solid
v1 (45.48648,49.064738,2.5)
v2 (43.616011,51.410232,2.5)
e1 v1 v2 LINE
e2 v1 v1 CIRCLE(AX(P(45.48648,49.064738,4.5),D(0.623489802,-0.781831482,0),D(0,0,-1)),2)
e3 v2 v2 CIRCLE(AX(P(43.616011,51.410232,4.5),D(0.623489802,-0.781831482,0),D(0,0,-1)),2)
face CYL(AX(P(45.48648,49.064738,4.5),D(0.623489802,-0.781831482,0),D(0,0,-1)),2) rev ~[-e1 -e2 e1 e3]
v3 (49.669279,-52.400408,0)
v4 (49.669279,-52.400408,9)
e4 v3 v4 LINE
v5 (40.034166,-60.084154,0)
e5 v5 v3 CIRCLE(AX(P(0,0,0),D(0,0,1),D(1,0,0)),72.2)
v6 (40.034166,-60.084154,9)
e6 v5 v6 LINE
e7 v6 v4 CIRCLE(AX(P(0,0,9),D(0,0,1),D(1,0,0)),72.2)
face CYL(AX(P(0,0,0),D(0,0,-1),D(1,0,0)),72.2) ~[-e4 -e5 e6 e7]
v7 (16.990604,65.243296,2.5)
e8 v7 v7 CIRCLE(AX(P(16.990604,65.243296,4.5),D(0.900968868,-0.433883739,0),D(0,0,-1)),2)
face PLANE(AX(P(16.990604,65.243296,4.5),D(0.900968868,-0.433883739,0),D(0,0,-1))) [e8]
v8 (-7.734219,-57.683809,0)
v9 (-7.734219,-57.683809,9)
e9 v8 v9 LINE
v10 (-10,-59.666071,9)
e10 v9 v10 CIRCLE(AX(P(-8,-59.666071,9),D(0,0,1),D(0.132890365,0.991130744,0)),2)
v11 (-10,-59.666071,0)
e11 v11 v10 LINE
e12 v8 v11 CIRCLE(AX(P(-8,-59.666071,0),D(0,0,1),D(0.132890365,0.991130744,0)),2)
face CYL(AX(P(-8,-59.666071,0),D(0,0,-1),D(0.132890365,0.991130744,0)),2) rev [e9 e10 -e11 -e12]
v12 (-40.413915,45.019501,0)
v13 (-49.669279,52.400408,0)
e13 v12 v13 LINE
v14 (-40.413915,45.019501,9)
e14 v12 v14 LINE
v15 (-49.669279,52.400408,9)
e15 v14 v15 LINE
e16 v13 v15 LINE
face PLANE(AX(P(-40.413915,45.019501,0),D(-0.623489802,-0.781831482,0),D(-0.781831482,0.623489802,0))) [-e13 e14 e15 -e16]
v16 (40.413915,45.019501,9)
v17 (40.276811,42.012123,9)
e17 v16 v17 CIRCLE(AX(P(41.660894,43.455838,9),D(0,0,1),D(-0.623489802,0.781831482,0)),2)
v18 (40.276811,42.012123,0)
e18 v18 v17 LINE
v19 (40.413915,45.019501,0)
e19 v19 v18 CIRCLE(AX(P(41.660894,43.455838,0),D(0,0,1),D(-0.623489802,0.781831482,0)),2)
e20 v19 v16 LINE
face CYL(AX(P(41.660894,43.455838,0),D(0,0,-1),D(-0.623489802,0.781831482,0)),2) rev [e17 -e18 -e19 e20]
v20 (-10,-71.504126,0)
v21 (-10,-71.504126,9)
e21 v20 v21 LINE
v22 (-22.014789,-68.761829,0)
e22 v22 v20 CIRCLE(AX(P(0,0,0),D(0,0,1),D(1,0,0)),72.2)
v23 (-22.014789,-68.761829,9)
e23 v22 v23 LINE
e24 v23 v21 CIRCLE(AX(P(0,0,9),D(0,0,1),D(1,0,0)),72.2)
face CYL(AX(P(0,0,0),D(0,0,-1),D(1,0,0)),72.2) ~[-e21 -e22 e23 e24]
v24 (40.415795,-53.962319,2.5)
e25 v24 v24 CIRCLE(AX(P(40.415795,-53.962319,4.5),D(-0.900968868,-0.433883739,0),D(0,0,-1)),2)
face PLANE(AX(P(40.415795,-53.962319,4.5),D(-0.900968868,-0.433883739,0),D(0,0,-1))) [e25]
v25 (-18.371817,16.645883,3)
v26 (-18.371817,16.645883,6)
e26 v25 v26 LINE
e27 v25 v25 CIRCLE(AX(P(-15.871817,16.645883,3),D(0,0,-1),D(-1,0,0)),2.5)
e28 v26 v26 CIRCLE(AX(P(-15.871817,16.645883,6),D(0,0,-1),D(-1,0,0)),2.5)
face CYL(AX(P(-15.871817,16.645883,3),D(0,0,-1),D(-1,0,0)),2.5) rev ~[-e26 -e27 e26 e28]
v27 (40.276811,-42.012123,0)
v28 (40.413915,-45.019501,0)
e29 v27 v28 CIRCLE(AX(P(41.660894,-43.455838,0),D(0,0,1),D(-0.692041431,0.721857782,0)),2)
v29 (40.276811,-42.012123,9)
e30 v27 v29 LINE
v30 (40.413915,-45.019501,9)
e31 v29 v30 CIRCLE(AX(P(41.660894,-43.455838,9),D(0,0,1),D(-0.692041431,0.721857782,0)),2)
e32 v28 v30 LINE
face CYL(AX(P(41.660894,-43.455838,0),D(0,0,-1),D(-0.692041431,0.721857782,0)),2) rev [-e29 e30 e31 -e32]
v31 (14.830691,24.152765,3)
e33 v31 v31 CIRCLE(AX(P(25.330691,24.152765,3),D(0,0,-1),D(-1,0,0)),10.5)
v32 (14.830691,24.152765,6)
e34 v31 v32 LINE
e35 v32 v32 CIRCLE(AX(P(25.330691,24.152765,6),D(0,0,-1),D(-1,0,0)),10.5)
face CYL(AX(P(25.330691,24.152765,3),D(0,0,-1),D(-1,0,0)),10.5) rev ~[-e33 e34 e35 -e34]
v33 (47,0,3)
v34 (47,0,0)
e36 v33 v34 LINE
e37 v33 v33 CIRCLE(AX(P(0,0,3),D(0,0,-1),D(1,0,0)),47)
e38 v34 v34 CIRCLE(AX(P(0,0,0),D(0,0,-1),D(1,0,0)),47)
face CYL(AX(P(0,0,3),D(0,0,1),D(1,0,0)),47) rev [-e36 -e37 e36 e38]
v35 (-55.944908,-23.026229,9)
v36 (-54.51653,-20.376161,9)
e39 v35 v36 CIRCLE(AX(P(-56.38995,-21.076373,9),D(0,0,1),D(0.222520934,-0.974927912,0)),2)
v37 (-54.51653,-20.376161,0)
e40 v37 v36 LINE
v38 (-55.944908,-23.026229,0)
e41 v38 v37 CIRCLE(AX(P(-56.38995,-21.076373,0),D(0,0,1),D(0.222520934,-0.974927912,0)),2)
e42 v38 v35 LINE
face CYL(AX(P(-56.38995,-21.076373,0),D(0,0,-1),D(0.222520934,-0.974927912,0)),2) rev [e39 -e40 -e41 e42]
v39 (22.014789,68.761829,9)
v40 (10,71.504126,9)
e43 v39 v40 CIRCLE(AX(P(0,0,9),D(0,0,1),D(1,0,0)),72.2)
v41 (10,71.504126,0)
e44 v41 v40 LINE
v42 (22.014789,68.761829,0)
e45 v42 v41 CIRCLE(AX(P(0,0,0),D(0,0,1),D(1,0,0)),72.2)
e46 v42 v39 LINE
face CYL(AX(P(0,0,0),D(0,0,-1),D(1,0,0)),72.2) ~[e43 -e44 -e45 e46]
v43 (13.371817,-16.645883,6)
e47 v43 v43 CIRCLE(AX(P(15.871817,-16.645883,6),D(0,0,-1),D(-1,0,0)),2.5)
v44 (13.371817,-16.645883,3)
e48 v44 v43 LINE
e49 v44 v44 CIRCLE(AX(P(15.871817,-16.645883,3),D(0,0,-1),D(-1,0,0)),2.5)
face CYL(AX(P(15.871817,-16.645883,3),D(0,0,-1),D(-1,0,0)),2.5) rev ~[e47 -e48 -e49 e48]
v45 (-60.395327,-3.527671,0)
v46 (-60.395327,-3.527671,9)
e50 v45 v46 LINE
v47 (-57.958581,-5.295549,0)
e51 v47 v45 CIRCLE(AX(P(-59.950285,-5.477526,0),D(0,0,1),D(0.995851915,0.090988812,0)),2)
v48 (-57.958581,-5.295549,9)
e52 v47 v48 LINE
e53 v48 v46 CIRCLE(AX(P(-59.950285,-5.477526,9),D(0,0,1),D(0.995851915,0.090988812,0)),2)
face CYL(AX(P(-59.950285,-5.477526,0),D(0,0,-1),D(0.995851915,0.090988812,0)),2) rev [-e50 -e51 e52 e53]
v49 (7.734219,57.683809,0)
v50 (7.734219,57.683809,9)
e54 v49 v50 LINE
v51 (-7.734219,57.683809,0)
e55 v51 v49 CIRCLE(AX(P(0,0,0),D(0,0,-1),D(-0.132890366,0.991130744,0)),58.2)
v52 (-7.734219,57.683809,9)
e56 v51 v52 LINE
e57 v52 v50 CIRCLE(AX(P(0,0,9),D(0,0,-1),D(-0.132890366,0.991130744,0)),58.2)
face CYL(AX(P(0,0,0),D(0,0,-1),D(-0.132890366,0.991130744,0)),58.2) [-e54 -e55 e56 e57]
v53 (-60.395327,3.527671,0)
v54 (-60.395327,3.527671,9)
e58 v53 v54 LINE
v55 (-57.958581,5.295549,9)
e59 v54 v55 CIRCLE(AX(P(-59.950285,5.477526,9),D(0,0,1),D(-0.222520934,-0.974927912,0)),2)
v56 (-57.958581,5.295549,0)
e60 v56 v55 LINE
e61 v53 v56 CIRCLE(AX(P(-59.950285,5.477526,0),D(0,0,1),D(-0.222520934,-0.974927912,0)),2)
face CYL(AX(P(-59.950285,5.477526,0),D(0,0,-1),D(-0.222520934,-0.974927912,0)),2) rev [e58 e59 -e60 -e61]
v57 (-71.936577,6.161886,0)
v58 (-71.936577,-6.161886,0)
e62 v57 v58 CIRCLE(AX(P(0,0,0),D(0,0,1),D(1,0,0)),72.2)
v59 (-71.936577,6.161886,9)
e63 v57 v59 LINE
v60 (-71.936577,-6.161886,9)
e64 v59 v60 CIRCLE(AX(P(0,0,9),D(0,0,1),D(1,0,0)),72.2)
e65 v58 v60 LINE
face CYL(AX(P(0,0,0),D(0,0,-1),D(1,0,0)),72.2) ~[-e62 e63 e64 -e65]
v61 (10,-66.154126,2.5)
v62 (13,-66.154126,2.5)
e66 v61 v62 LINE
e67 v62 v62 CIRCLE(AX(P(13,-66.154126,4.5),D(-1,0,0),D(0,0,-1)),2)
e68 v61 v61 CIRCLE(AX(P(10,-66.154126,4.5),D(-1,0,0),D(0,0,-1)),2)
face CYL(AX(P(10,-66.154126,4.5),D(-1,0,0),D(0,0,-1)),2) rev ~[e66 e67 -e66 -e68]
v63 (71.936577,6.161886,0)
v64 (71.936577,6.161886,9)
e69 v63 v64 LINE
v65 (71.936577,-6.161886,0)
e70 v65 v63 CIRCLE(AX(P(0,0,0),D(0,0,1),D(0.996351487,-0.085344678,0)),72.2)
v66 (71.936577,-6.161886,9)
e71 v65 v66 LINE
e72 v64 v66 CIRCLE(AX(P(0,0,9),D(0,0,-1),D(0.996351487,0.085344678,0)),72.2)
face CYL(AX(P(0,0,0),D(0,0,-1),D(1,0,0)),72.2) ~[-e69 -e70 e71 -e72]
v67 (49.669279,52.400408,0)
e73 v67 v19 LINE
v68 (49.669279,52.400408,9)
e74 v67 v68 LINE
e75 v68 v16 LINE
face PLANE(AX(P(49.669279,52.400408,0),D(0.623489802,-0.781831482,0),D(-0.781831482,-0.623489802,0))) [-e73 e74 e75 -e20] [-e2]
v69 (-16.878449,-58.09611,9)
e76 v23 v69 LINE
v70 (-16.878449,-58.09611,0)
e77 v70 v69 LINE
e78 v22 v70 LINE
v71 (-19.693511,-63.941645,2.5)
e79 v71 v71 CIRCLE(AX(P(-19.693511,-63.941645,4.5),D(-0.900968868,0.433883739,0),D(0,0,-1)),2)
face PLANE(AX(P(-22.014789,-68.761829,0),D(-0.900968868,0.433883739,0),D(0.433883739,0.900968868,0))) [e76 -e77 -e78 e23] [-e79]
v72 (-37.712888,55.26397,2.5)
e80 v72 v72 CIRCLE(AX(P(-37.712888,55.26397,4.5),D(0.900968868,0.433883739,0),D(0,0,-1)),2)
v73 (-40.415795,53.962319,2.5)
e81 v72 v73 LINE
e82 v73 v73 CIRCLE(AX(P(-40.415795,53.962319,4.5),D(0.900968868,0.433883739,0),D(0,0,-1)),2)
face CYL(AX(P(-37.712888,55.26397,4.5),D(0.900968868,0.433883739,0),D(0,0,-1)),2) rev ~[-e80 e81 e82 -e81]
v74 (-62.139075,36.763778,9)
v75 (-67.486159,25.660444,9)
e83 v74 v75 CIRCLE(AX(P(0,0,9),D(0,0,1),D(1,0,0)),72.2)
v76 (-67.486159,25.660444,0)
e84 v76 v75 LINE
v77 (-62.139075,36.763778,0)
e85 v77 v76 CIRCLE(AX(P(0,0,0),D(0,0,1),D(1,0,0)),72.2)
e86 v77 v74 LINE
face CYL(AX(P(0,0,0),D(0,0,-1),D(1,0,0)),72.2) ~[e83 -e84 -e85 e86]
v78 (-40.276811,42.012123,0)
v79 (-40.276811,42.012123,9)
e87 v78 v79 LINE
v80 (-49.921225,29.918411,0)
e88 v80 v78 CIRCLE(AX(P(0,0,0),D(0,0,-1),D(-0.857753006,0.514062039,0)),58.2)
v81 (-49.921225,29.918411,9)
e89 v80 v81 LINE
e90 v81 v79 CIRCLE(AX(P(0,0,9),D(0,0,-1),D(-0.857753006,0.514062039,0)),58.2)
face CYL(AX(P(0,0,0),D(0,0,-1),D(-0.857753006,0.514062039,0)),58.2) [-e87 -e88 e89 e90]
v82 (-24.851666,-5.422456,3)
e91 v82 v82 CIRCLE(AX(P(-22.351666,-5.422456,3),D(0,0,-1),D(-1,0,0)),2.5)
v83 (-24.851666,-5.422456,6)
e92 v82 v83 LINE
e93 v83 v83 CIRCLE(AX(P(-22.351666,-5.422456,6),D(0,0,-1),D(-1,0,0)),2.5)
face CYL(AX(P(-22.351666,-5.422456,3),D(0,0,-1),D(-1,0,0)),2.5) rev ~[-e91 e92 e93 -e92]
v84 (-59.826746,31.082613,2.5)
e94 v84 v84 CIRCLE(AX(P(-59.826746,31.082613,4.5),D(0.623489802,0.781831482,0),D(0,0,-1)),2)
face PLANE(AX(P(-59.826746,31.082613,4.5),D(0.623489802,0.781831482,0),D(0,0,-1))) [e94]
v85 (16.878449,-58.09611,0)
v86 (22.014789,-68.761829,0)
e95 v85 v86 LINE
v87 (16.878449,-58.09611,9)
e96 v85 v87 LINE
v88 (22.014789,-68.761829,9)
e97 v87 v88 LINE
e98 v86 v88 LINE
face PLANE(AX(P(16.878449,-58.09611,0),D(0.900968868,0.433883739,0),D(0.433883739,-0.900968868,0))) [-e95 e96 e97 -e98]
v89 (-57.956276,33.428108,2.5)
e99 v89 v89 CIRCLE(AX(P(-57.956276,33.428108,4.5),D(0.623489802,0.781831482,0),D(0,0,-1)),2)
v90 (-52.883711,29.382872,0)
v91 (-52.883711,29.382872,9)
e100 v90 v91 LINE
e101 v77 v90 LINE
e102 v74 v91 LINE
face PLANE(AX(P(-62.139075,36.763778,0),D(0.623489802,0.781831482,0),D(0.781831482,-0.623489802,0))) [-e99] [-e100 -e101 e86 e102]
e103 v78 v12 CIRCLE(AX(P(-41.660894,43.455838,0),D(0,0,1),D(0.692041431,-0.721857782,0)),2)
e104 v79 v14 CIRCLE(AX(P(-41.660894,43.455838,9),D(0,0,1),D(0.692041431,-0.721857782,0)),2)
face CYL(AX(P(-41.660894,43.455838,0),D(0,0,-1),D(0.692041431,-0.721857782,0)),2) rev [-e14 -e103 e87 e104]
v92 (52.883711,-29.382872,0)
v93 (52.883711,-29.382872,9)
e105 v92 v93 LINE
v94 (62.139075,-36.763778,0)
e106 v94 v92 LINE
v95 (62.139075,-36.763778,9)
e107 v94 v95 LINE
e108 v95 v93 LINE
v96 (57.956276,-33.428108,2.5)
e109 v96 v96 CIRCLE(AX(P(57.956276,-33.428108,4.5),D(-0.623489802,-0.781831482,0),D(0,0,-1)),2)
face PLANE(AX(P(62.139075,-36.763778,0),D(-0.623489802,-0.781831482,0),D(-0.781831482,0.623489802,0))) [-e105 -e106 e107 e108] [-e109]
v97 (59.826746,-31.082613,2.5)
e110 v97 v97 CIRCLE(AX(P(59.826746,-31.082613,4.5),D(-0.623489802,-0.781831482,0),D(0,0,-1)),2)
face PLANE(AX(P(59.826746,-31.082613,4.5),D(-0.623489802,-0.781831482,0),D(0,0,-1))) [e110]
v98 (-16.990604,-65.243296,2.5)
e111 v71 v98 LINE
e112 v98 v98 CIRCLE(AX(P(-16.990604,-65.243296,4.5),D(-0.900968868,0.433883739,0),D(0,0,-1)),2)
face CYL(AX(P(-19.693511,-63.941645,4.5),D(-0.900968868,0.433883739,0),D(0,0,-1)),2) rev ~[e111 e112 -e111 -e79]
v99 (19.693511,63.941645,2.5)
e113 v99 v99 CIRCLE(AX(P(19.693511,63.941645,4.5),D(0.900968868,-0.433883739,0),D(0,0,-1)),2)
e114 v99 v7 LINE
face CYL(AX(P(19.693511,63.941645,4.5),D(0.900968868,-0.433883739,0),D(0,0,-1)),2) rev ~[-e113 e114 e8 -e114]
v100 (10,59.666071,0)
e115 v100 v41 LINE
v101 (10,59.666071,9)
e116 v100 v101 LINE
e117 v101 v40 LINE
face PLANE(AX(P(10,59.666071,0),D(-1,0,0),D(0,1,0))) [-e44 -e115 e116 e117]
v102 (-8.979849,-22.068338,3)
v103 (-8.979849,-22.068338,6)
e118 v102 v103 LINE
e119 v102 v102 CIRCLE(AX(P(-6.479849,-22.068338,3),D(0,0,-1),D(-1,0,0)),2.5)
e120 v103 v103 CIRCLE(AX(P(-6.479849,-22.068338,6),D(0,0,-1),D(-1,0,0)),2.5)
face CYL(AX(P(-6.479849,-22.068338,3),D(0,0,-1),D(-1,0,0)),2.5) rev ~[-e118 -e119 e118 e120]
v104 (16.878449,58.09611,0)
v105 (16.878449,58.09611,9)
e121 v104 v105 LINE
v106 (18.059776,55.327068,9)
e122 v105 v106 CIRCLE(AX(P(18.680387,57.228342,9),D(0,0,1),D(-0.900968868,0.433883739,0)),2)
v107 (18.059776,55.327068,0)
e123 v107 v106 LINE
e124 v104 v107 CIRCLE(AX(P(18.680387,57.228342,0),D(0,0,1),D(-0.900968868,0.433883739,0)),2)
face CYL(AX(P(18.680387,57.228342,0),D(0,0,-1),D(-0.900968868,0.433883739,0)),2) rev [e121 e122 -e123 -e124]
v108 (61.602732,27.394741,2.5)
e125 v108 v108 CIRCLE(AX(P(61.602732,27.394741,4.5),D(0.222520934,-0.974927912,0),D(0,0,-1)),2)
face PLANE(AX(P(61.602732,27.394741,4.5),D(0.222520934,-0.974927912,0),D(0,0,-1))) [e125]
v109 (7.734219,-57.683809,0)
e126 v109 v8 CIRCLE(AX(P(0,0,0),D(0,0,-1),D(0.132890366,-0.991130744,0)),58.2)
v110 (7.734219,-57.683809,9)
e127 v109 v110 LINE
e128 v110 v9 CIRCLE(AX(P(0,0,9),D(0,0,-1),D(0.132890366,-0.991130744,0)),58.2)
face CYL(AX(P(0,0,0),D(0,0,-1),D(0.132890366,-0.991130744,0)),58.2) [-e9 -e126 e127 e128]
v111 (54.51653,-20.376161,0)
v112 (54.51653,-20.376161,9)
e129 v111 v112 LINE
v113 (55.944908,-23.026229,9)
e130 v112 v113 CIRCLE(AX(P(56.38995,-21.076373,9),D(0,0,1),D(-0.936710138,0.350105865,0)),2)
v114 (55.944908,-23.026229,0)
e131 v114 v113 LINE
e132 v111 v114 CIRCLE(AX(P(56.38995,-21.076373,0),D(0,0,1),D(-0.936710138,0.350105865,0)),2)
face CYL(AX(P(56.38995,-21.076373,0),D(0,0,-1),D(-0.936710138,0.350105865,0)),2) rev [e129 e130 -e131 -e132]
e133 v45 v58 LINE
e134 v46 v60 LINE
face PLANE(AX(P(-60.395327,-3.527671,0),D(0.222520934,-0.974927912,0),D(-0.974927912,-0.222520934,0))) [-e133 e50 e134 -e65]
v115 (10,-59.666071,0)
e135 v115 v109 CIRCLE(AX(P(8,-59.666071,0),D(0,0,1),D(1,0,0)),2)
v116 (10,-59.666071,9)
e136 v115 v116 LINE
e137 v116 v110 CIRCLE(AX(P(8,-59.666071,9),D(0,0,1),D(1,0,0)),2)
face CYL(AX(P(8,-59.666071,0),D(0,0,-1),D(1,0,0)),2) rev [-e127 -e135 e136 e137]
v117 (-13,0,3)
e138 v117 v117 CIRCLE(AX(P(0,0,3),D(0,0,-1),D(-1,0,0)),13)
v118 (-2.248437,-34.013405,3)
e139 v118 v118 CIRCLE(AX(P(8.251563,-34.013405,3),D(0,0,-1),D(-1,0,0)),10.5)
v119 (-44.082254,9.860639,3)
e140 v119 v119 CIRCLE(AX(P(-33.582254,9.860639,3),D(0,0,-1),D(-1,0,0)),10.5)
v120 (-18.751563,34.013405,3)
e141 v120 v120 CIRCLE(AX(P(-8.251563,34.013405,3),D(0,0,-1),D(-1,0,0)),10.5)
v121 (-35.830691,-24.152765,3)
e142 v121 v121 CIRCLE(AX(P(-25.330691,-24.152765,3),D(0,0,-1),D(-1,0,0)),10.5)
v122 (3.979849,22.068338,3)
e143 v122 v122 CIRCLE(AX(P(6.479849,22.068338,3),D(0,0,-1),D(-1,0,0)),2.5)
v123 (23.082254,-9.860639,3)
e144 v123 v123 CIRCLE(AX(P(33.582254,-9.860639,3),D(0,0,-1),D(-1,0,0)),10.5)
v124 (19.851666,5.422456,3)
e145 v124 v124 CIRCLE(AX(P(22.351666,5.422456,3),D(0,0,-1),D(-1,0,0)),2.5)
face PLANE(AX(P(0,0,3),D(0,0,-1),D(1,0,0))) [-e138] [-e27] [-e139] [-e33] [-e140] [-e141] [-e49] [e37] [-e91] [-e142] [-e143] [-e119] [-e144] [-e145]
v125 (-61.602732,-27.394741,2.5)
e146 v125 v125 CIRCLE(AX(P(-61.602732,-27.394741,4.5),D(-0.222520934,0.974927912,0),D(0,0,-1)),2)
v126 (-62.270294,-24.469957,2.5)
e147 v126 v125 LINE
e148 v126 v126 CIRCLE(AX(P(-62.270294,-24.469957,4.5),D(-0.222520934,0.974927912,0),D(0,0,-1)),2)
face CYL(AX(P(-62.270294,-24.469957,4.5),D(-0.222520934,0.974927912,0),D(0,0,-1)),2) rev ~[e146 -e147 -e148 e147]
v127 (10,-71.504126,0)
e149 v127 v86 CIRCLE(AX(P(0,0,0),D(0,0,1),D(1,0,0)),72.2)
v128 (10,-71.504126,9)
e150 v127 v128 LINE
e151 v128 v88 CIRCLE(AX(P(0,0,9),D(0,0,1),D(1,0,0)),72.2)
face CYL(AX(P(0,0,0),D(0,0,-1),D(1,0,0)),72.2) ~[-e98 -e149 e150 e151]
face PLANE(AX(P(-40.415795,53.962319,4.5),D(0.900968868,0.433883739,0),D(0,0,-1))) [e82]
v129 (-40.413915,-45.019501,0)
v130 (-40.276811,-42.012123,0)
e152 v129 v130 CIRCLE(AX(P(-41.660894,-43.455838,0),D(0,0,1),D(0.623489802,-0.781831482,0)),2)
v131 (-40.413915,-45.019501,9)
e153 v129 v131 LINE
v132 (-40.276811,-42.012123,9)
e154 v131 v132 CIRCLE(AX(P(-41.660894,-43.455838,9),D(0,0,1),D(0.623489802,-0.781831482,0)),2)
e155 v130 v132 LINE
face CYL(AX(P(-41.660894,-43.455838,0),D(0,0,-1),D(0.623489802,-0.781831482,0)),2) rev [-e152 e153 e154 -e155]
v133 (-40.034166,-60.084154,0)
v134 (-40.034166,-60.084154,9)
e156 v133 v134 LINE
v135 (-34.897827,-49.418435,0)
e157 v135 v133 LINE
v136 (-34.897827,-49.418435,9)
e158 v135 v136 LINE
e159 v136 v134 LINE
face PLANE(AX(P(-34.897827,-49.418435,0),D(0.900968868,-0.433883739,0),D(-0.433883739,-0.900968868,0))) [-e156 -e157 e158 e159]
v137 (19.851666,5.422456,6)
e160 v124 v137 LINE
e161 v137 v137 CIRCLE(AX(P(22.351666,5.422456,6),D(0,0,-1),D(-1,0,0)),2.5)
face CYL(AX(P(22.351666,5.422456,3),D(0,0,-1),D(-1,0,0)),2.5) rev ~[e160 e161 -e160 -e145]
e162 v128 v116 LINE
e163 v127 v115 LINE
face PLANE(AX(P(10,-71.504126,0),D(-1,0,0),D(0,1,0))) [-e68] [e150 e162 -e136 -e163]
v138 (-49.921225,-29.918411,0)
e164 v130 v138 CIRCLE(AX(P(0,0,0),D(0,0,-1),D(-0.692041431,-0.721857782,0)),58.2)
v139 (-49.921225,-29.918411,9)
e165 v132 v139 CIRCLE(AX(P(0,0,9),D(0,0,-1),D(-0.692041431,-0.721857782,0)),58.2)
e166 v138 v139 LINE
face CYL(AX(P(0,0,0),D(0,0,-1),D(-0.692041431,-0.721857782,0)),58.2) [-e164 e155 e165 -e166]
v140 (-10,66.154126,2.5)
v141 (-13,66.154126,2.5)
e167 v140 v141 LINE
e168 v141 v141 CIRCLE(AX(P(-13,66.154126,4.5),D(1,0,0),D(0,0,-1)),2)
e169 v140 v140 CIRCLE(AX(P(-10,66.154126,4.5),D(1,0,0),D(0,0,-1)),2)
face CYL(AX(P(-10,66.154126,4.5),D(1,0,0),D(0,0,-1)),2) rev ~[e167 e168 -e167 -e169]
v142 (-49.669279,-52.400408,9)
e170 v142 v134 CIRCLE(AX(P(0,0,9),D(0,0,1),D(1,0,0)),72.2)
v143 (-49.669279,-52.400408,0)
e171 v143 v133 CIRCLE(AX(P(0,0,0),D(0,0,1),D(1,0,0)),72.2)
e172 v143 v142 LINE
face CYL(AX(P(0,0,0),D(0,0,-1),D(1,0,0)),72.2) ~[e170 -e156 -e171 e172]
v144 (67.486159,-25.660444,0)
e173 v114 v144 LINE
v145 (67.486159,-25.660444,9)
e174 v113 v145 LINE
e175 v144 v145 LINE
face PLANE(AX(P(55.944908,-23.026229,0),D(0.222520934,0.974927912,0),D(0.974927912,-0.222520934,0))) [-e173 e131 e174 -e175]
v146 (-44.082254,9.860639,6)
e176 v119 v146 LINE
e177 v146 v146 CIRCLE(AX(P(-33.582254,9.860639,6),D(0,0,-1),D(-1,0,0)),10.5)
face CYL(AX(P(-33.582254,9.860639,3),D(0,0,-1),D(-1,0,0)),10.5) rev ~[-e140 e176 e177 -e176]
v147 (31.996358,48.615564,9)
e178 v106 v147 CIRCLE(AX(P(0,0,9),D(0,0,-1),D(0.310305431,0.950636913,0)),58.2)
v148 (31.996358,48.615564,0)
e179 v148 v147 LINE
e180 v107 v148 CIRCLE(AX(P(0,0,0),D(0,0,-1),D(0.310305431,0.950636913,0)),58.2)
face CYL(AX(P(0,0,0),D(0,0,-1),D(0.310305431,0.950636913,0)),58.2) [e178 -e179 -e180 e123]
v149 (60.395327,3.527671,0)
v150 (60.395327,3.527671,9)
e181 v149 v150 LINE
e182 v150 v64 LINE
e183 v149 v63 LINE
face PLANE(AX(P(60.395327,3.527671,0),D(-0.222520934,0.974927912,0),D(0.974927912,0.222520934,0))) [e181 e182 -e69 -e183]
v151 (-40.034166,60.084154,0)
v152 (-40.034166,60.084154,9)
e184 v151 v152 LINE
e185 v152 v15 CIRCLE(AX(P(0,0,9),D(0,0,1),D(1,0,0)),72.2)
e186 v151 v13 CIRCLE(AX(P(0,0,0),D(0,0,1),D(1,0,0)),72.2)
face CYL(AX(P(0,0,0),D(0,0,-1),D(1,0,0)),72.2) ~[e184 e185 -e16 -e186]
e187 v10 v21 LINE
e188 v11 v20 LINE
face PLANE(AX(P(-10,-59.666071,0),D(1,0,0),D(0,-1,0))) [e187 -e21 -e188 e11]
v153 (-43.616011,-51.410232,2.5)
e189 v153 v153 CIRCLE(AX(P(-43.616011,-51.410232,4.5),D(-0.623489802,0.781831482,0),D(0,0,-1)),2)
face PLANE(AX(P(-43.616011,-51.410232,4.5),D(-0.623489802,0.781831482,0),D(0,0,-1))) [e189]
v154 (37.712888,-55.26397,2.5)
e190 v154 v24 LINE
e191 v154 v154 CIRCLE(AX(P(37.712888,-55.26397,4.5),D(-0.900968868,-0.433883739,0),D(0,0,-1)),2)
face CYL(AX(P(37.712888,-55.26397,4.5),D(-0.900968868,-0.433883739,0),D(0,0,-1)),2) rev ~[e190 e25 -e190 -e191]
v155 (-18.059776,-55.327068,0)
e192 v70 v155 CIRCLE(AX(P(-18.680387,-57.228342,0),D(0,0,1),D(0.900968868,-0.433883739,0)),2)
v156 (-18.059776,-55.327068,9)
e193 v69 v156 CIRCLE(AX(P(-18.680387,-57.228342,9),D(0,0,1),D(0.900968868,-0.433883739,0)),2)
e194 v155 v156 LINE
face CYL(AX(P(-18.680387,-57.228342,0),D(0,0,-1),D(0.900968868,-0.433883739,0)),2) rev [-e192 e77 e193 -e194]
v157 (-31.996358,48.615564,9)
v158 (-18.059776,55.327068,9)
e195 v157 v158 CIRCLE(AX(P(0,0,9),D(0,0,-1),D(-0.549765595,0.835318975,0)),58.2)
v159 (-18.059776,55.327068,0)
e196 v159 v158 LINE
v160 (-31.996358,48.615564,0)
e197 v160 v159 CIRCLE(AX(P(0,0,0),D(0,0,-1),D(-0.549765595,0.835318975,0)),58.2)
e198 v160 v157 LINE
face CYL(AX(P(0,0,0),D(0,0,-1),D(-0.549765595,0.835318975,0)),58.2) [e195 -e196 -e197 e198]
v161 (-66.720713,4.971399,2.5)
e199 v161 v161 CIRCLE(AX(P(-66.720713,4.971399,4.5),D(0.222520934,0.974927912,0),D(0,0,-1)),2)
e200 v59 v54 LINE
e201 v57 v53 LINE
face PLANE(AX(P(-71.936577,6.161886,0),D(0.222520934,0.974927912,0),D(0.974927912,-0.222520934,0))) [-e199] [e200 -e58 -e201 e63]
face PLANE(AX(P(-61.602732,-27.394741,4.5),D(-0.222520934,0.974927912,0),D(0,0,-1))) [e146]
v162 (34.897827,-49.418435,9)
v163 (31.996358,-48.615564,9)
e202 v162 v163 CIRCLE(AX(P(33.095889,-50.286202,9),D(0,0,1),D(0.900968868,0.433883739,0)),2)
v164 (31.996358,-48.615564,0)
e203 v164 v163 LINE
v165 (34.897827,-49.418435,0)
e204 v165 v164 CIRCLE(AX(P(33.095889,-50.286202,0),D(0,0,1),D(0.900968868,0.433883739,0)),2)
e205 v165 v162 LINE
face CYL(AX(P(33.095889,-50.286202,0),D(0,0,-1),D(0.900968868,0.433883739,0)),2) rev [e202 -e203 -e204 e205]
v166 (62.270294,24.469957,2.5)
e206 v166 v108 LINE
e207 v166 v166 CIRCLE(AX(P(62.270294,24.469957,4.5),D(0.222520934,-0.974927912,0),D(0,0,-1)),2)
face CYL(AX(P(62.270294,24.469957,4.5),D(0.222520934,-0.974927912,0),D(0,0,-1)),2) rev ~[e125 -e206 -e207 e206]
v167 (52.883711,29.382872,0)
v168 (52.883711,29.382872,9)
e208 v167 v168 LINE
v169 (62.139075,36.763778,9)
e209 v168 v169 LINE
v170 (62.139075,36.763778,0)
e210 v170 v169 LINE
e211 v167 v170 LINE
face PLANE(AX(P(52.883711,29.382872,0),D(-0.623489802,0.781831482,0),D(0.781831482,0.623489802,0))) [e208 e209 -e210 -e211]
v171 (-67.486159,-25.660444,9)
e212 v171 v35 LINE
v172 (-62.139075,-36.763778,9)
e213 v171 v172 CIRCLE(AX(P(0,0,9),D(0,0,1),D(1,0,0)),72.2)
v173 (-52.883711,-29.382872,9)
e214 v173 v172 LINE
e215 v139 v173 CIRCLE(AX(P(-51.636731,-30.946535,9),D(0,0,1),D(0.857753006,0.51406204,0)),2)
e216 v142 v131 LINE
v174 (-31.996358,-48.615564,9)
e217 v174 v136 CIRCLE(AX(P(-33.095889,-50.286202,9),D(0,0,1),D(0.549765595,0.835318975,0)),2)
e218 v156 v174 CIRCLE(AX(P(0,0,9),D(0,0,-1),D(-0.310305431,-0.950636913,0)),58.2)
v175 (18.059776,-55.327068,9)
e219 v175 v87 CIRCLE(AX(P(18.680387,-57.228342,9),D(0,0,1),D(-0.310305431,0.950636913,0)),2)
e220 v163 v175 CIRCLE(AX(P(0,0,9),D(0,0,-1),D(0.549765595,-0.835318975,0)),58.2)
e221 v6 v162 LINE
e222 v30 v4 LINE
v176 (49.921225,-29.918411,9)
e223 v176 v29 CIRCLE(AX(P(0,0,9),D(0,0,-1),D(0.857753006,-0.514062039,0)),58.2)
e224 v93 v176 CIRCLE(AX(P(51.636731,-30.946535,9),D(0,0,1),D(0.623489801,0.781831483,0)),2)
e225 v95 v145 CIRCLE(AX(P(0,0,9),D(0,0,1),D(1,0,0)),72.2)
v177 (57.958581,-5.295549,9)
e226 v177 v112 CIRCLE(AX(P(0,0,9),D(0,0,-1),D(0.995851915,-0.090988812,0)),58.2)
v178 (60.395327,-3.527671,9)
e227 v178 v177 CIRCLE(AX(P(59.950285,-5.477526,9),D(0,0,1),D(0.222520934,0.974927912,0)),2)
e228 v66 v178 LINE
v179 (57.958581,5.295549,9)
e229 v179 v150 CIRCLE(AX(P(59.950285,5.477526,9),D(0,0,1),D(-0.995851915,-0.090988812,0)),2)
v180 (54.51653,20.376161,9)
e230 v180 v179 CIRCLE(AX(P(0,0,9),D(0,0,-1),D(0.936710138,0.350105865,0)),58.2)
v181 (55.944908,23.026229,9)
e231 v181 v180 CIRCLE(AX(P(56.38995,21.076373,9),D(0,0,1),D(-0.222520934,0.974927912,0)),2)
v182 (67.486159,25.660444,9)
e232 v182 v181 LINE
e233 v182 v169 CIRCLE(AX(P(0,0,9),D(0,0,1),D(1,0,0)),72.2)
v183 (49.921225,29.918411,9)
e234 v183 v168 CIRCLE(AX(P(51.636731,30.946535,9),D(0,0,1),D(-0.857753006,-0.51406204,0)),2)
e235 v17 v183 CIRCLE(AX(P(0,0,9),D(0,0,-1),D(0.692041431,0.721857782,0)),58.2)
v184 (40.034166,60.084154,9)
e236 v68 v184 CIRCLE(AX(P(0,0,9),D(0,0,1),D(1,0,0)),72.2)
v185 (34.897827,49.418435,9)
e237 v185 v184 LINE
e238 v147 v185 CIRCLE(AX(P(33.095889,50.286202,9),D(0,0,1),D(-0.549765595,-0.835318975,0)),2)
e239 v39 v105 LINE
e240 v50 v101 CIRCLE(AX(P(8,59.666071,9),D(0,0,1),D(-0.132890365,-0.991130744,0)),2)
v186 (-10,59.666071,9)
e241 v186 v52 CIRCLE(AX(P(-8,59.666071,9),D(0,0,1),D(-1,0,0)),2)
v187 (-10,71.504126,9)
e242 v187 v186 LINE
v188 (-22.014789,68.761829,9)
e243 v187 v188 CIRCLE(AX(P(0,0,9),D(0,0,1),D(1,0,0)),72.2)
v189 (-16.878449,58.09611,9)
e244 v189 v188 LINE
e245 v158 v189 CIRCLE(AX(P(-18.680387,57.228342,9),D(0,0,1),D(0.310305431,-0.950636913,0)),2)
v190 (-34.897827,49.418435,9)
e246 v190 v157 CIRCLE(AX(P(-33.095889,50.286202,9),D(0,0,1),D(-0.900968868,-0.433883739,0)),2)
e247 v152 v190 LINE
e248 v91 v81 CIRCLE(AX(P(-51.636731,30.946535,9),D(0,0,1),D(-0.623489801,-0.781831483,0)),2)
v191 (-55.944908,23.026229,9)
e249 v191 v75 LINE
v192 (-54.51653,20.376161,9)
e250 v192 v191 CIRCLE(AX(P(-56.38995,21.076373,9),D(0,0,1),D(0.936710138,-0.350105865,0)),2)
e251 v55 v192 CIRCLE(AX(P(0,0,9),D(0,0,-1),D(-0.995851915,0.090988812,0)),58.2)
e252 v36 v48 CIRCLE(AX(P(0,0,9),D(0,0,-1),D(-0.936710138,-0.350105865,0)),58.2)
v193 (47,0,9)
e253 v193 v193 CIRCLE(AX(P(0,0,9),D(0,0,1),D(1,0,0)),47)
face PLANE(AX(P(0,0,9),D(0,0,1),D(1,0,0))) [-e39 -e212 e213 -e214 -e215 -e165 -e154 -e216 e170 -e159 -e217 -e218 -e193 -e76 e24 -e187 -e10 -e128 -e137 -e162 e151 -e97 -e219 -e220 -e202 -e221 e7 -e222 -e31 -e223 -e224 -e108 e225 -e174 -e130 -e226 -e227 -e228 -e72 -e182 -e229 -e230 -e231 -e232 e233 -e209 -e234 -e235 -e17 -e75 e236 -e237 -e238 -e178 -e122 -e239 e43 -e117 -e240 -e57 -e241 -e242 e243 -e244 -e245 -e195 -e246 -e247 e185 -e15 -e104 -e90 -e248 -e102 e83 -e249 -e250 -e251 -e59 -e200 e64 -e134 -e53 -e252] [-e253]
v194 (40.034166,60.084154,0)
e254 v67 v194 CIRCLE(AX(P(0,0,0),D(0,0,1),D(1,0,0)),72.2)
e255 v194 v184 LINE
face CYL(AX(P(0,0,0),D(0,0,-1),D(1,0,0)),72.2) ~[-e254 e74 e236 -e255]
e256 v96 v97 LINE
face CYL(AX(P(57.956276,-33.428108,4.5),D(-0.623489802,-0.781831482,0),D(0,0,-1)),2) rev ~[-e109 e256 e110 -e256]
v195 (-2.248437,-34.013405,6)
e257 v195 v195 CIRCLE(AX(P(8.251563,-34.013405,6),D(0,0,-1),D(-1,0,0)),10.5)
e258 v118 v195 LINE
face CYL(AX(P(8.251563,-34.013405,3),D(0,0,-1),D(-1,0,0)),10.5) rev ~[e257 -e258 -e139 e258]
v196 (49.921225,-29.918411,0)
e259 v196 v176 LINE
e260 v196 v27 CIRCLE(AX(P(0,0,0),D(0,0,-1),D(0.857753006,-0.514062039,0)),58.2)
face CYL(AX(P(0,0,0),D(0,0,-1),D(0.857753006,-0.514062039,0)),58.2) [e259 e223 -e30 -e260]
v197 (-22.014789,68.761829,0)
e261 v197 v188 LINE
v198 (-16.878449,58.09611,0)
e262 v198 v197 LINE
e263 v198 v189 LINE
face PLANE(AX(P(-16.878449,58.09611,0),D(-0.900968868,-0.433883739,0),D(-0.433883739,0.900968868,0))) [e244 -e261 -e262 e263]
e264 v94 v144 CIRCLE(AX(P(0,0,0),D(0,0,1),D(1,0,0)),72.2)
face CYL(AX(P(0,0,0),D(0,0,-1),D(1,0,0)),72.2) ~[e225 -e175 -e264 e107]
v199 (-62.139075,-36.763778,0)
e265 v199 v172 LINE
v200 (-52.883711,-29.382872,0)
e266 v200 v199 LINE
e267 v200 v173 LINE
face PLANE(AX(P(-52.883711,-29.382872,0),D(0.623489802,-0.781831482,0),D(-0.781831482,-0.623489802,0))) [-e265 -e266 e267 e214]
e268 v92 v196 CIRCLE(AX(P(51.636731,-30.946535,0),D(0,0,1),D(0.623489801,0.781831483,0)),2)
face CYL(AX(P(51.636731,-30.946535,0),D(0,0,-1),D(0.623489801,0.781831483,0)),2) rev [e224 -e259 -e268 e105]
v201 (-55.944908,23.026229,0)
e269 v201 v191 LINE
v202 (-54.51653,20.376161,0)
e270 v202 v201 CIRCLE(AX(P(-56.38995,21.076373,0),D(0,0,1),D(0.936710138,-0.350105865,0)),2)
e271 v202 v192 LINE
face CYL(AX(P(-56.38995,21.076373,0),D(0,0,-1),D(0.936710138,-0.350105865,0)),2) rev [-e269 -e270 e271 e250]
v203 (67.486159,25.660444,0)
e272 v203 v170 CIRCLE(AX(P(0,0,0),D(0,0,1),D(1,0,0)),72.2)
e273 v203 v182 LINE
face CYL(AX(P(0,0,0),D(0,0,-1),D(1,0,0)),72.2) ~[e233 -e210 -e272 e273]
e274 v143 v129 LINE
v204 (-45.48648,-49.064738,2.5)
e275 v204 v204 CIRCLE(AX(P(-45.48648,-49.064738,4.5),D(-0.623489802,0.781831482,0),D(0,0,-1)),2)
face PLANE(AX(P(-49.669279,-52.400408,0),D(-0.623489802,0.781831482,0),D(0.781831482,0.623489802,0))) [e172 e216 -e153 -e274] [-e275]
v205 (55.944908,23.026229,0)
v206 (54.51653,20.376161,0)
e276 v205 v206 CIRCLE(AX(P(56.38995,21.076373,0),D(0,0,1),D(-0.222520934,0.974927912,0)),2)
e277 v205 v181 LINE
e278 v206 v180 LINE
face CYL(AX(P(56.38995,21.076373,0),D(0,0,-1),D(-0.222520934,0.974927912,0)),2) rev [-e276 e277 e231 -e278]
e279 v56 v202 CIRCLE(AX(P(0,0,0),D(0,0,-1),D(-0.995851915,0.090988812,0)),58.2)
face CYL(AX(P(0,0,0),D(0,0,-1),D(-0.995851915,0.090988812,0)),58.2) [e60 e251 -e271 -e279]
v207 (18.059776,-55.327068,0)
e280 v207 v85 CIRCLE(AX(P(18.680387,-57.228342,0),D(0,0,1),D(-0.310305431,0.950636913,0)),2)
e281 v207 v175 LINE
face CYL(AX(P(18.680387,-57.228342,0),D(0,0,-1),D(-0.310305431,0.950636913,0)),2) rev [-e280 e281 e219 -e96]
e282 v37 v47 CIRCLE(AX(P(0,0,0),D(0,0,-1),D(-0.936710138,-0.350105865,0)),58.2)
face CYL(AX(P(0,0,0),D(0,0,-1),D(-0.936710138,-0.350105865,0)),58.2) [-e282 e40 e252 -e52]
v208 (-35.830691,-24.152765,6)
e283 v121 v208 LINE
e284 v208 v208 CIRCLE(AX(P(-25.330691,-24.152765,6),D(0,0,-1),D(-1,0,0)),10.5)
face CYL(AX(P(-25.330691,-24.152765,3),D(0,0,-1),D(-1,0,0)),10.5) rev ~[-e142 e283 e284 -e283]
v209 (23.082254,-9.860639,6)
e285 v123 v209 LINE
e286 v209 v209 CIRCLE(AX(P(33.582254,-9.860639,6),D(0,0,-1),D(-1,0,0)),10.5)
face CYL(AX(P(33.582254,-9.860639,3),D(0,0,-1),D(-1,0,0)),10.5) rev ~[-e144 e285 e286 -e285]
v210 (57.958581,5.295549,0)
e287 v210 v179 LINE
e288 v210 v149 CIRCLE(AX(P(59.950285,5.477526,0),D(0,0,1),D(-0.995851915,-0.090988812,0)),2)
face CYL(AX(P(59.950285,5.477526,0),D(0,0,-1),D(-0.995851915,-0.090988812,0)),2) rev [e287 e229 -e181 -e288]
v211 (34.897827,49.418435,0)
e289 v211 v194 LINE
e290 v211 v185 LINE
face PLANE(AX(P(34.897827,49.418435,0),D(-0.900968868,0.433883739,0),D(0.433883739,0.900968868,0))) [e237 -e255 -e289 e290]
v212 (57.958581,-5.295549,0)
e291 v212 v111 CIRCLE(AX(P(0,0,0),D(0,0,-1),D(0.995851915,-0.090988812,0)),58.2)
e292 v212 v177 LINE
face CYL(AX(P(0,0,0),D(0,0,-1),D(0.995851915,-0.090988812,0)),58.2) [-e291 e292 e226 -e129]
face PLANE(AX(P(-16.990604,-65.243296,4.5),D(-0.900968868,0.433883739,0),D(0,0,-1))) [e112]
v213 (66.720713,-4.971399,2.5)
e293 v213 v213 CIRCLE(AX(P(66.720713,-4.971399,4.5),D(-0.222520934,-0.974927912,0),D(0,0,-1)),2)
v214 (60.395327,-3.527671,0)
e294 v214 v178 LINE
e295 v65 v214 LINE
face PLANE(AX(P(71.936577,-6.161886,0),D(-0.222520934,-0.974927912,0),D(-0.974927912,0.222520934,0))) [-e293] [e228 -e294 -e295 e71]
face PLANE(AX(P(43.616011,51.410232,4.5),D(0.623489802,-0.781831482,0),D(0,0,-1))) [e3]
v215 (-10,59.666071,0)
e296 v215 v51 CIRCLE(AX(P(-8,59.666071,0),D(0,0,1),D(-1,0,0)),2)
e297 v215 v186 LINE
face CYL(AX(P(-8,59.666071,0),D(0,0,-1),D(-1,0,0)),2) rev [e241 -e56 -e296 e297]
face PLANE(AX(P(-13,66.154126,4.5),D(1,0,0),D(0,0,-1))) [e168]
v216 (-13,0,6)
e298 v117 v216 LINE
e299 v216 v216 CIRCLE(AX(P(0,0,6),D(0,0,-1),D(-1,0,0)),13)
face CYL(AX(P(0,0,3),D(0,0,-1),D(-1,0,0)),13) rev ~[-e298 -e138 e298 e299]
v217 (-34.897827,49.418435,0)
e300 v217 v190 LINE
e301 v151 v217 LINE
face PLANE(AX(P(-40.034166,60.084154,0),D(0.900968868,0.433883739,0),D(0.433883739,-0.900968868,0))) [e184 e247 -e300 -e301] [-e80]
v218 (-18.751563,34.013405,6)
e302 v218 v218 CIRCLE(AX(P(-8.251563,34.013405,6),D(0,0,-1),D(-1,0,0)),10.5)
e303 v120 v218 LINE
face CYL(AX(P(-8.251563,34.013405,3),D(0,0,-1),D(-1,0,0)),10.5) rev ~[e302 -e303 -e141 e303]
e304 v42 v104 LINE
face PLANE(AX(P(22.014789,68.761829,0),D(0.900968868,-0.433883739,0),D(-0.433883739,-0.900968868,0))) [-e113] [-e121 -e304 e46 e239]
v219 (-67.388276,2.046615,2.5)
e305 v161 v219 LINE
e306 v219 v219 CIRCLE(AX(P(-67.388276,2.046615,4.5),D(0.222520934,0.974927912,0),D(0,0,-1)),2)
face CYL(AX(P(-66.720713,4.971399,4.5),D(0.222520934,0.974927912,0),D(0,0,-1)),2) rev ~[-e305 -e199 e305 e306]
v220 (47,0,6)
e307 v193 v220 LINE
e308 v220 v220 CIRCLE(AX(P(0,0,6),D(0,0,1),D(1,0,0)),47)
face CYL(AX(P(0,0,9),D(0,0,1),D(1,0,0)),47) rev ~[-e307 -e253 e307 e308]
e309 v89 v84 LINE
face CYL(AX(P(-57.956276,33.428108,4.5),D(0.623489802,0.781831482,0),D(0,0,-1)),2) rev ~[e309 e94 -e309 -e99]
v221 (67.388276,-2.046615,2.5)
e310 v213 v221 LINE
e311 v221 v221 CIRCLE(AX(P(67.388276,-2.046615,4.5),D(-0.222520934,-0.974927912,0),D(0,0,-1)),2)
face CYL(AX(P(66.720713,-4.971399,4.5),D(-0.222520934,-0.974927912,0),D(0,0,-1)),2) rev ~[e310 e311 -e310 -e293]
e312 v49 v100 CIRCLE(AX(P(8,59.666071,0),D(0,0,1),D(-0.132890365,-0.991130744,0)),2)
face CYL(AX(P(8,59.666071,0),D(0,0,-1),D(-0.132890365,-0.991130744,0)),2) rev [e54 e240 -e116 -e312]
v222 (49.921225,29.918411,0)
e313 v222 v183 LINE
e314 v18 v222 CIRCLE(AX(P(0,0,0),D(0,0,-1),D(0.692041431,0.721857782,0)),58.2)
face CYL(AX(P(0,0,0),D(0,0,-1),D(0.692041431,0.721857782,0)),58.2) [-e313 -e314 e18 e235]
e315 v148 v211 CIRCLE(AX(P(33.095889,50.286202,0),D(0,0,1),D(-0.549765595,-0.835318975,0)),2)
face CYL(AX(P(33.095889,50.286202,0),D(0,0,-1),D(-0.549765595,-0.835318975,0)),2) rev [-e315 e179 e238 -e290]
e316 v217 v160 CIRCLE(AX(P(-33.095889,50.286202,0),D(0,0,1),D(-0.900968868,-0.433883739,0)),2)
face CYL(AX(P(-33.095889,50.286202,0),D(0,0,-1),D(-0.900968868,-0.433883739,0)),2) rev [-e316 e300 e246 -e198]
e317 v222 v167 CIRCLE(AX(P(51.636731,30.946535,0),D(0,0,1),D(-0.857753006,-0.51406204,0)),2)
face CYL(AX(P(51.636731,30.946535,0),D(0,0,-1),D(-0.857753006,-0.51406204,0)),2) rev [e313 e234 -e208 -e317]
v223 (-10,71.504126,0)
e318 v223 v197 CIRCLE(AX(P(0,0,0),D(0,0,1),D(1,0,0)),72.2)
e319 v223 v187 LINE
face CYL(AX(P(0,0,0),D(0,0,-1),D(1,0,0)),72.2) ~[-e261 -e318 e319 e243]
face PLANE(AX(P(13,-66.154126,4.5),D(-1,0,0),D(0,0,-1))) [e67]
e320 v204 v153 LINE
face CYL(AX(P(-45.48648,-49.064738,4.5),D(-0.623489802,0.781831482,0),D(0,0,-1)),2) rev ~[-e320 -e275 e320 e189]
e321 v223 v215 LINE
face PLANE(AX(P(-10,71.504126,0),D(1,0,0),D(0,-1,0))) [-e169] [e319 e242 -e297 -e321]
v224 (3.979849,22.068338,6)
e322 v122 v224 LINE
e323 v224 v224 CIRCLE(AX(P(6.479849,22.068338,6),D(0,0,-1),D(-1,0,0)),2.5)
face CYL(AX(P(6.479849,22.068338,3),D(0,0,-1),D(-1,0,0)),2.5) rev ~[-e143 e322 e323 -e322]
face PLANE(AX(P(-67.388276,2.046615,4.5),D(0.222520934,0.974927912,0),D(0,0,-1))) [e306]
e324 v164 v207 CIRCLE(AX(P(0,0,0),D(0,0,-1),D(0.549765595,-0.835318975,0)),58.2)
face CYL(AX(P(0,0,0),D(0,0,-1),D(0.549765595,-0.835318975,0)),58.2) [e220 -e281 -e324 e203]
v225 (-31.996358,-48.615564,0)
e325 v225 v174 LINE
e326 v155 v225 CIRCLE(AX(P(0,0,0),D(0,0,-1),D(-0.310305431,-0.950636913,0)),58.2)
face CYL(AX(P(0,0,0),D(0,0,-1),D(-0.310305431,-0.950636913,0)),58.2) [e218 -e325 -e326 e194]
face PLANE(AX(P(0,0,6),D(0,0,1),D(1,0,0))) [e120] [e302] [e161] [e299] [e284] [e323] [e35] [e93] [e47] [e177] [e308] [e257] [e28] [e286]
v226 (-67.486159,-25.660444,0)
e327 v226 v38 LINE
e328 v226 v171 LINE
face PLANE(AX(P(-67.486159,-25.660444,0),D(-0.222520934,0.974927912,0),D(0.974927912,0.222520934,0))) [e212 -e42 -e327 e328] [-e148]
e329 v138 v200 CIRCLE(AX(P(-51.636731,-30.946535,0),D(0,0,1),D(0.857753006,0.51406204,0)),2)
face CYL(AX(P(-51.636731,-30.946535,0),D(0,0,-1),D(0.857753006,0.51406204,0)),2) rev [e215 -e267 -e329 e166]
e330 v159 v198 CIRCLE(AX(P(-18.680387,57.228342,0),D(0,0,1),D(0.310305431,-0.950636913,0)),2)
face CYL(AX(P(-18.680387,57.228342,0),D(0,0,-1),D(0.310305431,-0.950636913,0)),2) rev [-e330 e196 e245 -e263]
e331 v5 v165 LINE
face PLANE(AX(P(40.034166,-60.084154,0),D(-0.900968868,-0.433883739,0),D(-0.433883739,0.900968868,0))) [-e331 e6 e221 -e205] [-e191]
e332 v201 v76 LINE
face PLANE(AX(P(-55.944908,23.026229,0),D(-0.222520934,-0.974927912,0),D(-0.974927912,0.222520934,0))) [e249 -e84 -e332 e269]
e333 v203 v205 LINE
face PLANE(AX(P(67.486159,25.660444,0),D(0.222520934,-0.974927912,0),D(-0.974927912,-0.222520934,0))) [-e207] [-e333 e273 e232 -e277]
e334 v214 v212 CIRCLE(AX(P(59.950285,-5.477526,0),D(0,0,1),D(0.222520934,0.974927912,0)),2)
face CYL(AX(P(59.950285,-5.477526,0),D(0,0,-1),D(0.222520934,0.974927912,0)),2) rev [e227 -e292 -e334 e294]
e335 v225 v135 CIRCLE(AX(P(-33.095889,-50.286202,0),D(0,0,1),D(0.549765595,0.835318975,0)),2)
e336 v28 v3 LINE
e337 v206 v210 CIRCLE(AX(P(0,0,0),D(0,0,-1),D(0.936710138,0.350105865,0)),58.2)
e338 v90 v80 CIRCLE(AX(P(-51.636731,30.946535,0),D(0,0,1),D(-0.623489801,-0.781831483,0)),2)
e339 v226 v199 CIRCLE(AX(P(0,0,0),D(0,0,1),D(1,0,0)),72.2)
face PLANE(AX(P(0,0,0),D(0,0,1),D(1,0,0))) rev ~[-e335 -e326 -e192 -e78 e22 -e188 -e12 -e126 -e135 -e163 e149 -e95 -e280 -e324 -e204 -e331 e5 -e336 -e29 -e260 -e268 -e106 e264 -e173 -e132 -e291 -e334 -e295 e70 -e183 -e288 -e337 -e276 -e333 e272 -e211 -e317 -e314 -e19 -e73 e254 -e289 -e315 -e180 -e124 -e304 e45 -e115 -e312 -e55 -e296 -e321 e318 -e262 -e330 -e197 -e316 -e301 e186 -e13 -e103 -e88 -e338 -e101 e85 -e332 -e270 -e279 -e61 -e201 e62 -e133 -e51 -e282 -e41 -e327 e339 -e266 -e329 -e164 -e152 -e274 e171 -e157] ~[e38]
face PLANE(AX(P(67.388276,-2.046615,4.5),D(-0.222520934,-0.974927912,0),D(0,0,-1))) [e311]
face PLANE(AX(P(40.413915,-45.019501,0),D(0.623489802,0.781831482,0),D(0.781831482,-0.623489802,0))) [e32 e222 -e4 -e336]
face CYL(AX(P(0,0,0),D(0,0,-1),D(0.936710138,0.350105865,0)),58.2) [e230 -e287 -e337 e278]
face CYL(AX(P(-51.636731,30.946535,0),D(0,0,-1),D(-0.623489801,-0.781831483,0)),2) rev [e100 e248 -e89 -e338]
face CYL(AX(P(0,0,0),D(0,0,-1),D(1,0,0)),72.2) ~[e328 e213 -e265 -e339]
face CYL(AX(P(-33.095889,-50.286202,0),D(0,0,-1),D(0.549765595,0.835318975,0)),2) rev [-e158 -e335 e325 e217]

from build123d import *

# Parameters (mm, degrees)
SKETCH_1_R               = 72.2
EXTRUDE_1_DEPTH          = 9
CUT_EXTRUDE_START        = -9
CUT_EXTRUDE_2_DEPTH      = 9
SKETCH_3_R               = 47
CUT_EXTRUDE_3_DEPTH      = 3
CUT_EXTRUDE_START_2      = -3
SKETCH_4_R               = 47
CUT_EXTRUDE_4_DEPTH      = 3
SKETCH_6_R               = 2
CUT_EXTRUDE_6_DEPTH      = 3
PATTERN_CIRCULAR_1_COUNT = 14
SKETCH_5_R               = 13
SKETCH_5_R_2             = 2.5
SKETCH_5_R_3             = 10.5
CUT_EXTRUDE_7_DEPTH      = 102.792337629


with BuildPart() as part:
    # 草图1 → 凸台-拉伸1 (new body)
    with BuildSketch(Plane.XY):
        Circle(SKETCH_1_R)
    extrude(amount=EXTRUDE_1_DEPTH)

    # 草图2 → 切除-拉伸2 (cut)
    with BuildSketch(Plane.XY.offset(9).offset(CUT_EXTRUDE_START)):
        with BuildLine():
            Line((-10, 71.504125755), (-10, 59.666070761))
            ThreePointArc((-10, 59.666070761), (-9.316897592, 58.160819708), (-7.734219269, 57.683809273))
            ThreePointArc((-7.734219269, 57.683809273), (0, 58.2), (7.734219269, 57.683809273))
            ThreePointArc((7.734219269, 57.683809273), (9.316897592, 58.160819708), (10, 59.666070761))
            Line((10, 59.666070761), (10, 71.504125755))
            ThreePointArc((10, 71.504125755), (0, 72.2), (-10, 71.504125755))
        make_face()
        with BuildLine():
            Line((22.014788766, 68.761828623), (16.878449201, 58.096109616))
            ThreePointArc((16.878449201, 58.096109616), (16.840799249, 56.443538253), (18.059776075, 55.327068313))
            ThreePointArc((18.059776075, 55.327068313), (25.252033617, 52.436388112), (31.996357633, 48.615564362))
            ThreePointArc((31.996357633, 48.615564362), (33.629268601, 48.358637524), (34.897826559, 49.418434834))
            Line((34.897826559, 49.418434834), (40.034166124, 60.084153841))
            ThreePointArc((40.034166124, 60.084153841), (31.326405964, 65.049952263), (22.014788766, 68.761828623))
        make_face()
        with BuildLine():
            Line((49.669278623, 52.400408024), (40.413914537, 45.019501461))
            ThreePointArc((40.413914537, 45.019501461), (39.66296926, 43.546921812), (40.276811279, 42.012122931))
            ThreePointArc((40.276811279, 42.012122931), (45.50259228, 36.287106468), (49.921224958, 29.918410697))
            ThreePointArc((49.921224958, 29.918410697), (51.280950528, 28.978434099), (52.883710574, 29.382871811))
            Line((52.883710574, 29.382871811), (62.13907466, 36.763778374))
            ThreePointArc((62.13907466, 36.763778374), (56.448233034, 45.015963694), (49.669278623, 52.400408024))
        make_face()
        with BuildLine():
            Line((67.486158695, 25.660443967), (55.944908455, 23.026228913))
            ThreePointArc((55.944908455, 23.026228913), (54.629401775, 22.025303439), (54.516530046, 20.376161358))
            ThreePointArc((54.516530046, 20.376161358), (56.740804489, 12.950718356), (57.958581437, 5.295548869))
            ThreePointArc((57.958581437, 5.295548869), (58.775811283, 3.858696403), (60.395327134, 3.527670669))
            Line((60.395327134, 3.527670669), (71.936577374, 6.161885723))
            ThreePointArc((71.936577374, 6.161885723), (70.38979526, 16.066011432), (67.486158695, 25.660443967))
        make_face()
        with BuildLine():
            Line((71.936577374, -6.161885723), (60.395327134, -3.527670669))
            ThreePointArc((60.395327134, -3.527670669), (58.775811283, -3.858696403), (57.958581437, -5.295548869))
            ThreePointArc((57.958581437, -5.295548869), (56.740804489, -12.950718356), (54.516530046, -20.376161358))
            ThreePointArc((54.516530046, -20.376161358), (54.629401775, -22.025303439), (55.944908455, -23.026228913))
            Line((55.944908455, -23.026228913), (67.486158695, -25.660443967))
            ThreePointArc((67.486158695, -25.660443967), (70.38979526, -16.066011432), (71.936577374, -6.161885723))
        make_face()
        with BuildLine():
            Line((62.13907466, -36.763778374), (52.883710574, -29.382871811))
            ThreePointArc((52.883710574, -29.382871811), (51.280950528, -28.978434099), (49.921224958, -29.918410697))
            ThreePointArc((49.921224958, -29.918410697), (45.50259228, -36.287106468), (40.276811279, -42.012122931))
            ThreePointArc((40.276811279, -42.012122931), (39.66296926, -43.546921812), (40.413914537, -45.019501461))
            Line((40.413914537, -45.019501461), (49.669278623, -52.400408024))
            ThreePointArc((49.669278623, -52.400408024), (56.448233034, -45.015963694), (62.13907466, -36.763778374))
        make_face()
        with BuildLine():
            Line((40.034166124, -60.084153841), (34.897826559, -49.418434834))
            ThreePointArc((34.897826559, -49.418434834), (33.629268601, -48.358637524), (31.996357633, -48.615564362))
            ThreePointArc((31.996357633, -48.615564362), (25.252033617, -52.436388112), (18.059776075, -55.327068313))
            ThreePointArc((18.059776075, -55.327068313), (16.840799249, -56.443538253), (16.878449201, -58.096109616))
            Line((16.878449201, -58.096109616), (22.014788766, -68.761828623))
            ThreePointArc((22.014788766, -68.761828623), (31.326405964, -65.049952263), (40.034166124, -60.084153841))
        make_face()
        with BuildLine():
            Line((10, -71.504125755), (10, -59.666070761))
            ThreePointArc((10, -59.666070761), (9.316897592, -58.160819708), (7.734219269, -57.683809273))
            ThreePointArc((7.734219269, -57.683809273), (0, -58.2), (-7.734219269, -57.683809273))
            ThreePointArc((-7.734219269, -57.683809273), (-9.316897592, -58.160819708), (-10, -59.666070761))
            Line((-10, -59.666070761), (-10, -71.504125755))
            ThreePointArc((-10, -71.504125755), (0, -72.2), (10, -71.504125755))
        make_face()
        with BuildLine():
            Line((-22.014788766, -68.761828623), (-16.878449201, -58.096109616))
            ThreePointArc((-16.878449201, -58.096109616), (-16.840799249, -56.443538253), (-18.059776075, -55.327068313))
            ThreePointArc((-18.059776075, -55.327068313), (-25.252033617, -52.436388112), (-31.996357633, -48.615564362))
            ThreePointArc((-31.996357633, -48.615564362), (-33.629268601, -48.358637524), (-34.897826559, -49.418434834))
            Line((-34.897826559, -49.418434834), (-40.034166124, -60.084153841))
            ThreePointArc((-40.034166124, -60.084153841), (-31.326405964, -65.049952263), (-22.014788766, -68.761828623))
        make_face()
        with BuildLine():
            Line((-49.669278623, -52.400408024), (-40.413914537, -45.019501461))
            ThreePointArc((-40.413914537, -45.019501461), (-39.66296926, -43.546921812), (-40.276811279, -42.012122931))
            ThreePointArc((-40.276811279, -42.012122931), (-45.50259228, -36.287106468), (-49.921224958, -29.918410697))
            ThreePointArc((-49.921224958, -29.918410697), (-51.280950528, -28.978434099), (-52.883710574, -29.382871811))
            Line((-52.883710574, -29.382871811), (-62.13907466, -36.763778374))
            ThreePointArc((-62.13907466, -36.763778374), (-56.448233034, -45.015963694), (-49.669278623, -52.400408024))
        make_face()
        with BuildLine():
            Line((-67.486158695, -25.660443967), (-55.944908455, -23.026228913))
            ThreePointArc((-55.944908455, -23.026228913), (-54.629401775, -22.025303439), (-54.516530046, -20.376161358))
            ThreePointArc((-54.516530046, -20.376161358), (-56.740804489, -12.950718356), (-57.958581437, -5.295548869))
            ThreePointArc((-57.958581437, -5.295548869), (-58.775811283, -3.858696403), (-60.395327134, -3.527670669))
            Line((-60.395327134, -3.527670669), (-71.936577374, -6.161885723))
            ThreePointArc((-71.936577374, -6.161885723), (-70.38979526, -16.066011432), (-67.486158695, -25.660443967))
        make_face()
        with BuildLine():
            Line((-71.936577374, 6.161885723), (-60.395327134, 3.527670669))
            ThreePointArc((-60.395327134, 3.527670669), (-58.775811283, 3.858696403), (-57.958581437, 5.295548869))
            ThreePointArc((-57.958581437, 5.295548869), (-56.740804489, 12.950718356), (-54.516530046, 20.376161358))
            ThreePointArc((-54.516530046, 20.376161358), (-54.629401775, 22.025303439), (-55.944908455, 23.026228913))
            Line((-55.944908455, 23.026228913), (-67.486158695, 25.660443967))
            ThreePointArc((-67.486158695, 25.660443967), (-70.38979526, 16.066011432), (-71.936577374, 6.161885723))
        make_face()
        with BuildLine():
            Line((-62.13907466, 36.763778374), (-52.883710574, 29.382871811))
            ThreePointArc((-52.883710574, 29.382871811), (-51.280950528, 28.978434099), (-49.921224958, 29.918410697))
            ThreePointArc((-49.921224958, 29.918410697), (-45.50259228, 36.287106468), (-40.276811279, 42.012122931))
            ThreePointArc((-40.276811279, 42.012122931), (-39.66296926, 43.546921812), (-40.413914537, 45.019501461))
            Line((-40.413914537, 45.019501461), (-49.669278623, 52.400408024))
            ThreePointArc((-49.669278623, 52.400408024), (-56.448233034, 45.015963694), (-62.13907466, 36.763778374))
        make_face()
        with BuildLine():
            Line((-40.034166124, 60.084153841), (-34.897826559, 49.418434834))
            ThreePointArc((-34.897826559, 49.418434834), (-33.629268601, 48.358637524), (-31.996357633, 48.615564362))
            ThreePointArc((-31.996357633, 48.615564362), (-25.252033617, 52.436388112), (-18.059776075, 55.327068313))
            ThreePointArc((-18.059776075, 55.327068313), (-16.840799249, 56.443538253), (-16.878449201, 58.096109616))
            Line((-16.878449201, 58.096109616), (-22.014788766, 68.761828623))
            ThreePointArc((-22.014788766, 68.761828623), (-31.326405964, 65.049952263), (-40.034166124, 60.084153841))
        make_face()
    extrude(amount=CUT_EXTRUDE_2_DEPTH, mode=Mode.SUBTRACT)

    # 草图3 → 切除-拉伸3 (cut)
    with BuildSketch(Plane.XY.offset(9)):
        Circle(SKETCH_3_R)
    extrude(amount=-CUT_EXTRUDE_3_DEPTH, mode=Mode.SUBTRACT)

    # 草图4 → 切除-拉伸4 (cut)
    with BuildSketch(Plane(origin=(0, 0, 0), x_dir=(-1, 0, 0), z_dir=(0, 0, -1)).offset(CUT_EXTRUDE_START_2)):
        with Locations(Location((0, 0, 0), (0, 0, 180))):
            Circle(SKETCH_4_R)
    extrude(amount=CUT_EXTRUDE_4_DEPTH, mode=Mode.SUBTRACT)

    # 草图6 → 切除-拉伸6 (cut)
    with BuildSketch(Plane(origin=(-10, 0, 0), x_dir=(0, 0, -1), z_dir=(1, 0, 0))):
        with Locations((-4.5, 66.154125755)):
            Circle(SKETCH_6_R)
    cut_extrude_6 = extrude(amount=-CUT_EXTRUDE_6_DEPTH, mode=Mode.SUBTRACT)

    # 阵列(圆周)1: 切除-拉伸6 ×14 about axis
    pattern_circular_1_axis = Axis((0, 0, 0), (0, 0, 1))
    for i in range(1, PATTERN_CIRCULAR_1_COUNT):
        add(cut_extrude_6.rotate(pattern_circular_1_axis, i * 360 / PATTERN_CIRCULAR_1_COUNT), mode=Mode.SUBTRACT)

    # 草图5 → 切除-拉伸7 (cut, through all)
    with BuildSketch(Plane(origin=(0, 0, 3), x_dir=(-1, 0, 0), z_dir=(0, 0, -1))):
        Circle(SKETCH_5_R)
        with Locations((-6.479848807, 22.068338393)):
            Circle(SKETCH_5_R_2)
        with Locations((15.871817264, 16.645882876)):
            Circle(SKETCH_5_R_2)
        with Locations((22.351666071, -5.422455517)):
            Circle(SKETCH_5_R_2)
        with Locations((6.479848807, -22.068338393)):
            Circle(SKETCH_5_R_2)
        with Locations((-15.871817264, -16.645882876)):
            Circle(SKETCH_5_R_2)
        with Locations((-22.351666071, 5.422455517)):
            Circle(SKETCH_5_R_2)
        with Locations((8.251562743, 34.013404891)):
            Circle(SKETCH_5_R_3)
        with Locations((33.582254077, 9.860639489)):
            Circle(SKETCH_5_R_3)
        with Locations((25.330691334, -24.152765402)):
            Circle(SKETCH_5_R_3)
        with Locations((-8.251562743, -34.013404891)):
            Circle(SKETCH_5_R_3)
        with Locations((-33.582254077, -9.860639489)):
            Circle(SKETCH_5_R_3)
        with Locations((-25.330691334, 24.152765402)):
            Circle(SKETCH_5_R_3)
    extrude(amount=-CUT_EXTRUDE_7_DEPTH, mode=Mode.SUBTRACT)


solid = part.part
